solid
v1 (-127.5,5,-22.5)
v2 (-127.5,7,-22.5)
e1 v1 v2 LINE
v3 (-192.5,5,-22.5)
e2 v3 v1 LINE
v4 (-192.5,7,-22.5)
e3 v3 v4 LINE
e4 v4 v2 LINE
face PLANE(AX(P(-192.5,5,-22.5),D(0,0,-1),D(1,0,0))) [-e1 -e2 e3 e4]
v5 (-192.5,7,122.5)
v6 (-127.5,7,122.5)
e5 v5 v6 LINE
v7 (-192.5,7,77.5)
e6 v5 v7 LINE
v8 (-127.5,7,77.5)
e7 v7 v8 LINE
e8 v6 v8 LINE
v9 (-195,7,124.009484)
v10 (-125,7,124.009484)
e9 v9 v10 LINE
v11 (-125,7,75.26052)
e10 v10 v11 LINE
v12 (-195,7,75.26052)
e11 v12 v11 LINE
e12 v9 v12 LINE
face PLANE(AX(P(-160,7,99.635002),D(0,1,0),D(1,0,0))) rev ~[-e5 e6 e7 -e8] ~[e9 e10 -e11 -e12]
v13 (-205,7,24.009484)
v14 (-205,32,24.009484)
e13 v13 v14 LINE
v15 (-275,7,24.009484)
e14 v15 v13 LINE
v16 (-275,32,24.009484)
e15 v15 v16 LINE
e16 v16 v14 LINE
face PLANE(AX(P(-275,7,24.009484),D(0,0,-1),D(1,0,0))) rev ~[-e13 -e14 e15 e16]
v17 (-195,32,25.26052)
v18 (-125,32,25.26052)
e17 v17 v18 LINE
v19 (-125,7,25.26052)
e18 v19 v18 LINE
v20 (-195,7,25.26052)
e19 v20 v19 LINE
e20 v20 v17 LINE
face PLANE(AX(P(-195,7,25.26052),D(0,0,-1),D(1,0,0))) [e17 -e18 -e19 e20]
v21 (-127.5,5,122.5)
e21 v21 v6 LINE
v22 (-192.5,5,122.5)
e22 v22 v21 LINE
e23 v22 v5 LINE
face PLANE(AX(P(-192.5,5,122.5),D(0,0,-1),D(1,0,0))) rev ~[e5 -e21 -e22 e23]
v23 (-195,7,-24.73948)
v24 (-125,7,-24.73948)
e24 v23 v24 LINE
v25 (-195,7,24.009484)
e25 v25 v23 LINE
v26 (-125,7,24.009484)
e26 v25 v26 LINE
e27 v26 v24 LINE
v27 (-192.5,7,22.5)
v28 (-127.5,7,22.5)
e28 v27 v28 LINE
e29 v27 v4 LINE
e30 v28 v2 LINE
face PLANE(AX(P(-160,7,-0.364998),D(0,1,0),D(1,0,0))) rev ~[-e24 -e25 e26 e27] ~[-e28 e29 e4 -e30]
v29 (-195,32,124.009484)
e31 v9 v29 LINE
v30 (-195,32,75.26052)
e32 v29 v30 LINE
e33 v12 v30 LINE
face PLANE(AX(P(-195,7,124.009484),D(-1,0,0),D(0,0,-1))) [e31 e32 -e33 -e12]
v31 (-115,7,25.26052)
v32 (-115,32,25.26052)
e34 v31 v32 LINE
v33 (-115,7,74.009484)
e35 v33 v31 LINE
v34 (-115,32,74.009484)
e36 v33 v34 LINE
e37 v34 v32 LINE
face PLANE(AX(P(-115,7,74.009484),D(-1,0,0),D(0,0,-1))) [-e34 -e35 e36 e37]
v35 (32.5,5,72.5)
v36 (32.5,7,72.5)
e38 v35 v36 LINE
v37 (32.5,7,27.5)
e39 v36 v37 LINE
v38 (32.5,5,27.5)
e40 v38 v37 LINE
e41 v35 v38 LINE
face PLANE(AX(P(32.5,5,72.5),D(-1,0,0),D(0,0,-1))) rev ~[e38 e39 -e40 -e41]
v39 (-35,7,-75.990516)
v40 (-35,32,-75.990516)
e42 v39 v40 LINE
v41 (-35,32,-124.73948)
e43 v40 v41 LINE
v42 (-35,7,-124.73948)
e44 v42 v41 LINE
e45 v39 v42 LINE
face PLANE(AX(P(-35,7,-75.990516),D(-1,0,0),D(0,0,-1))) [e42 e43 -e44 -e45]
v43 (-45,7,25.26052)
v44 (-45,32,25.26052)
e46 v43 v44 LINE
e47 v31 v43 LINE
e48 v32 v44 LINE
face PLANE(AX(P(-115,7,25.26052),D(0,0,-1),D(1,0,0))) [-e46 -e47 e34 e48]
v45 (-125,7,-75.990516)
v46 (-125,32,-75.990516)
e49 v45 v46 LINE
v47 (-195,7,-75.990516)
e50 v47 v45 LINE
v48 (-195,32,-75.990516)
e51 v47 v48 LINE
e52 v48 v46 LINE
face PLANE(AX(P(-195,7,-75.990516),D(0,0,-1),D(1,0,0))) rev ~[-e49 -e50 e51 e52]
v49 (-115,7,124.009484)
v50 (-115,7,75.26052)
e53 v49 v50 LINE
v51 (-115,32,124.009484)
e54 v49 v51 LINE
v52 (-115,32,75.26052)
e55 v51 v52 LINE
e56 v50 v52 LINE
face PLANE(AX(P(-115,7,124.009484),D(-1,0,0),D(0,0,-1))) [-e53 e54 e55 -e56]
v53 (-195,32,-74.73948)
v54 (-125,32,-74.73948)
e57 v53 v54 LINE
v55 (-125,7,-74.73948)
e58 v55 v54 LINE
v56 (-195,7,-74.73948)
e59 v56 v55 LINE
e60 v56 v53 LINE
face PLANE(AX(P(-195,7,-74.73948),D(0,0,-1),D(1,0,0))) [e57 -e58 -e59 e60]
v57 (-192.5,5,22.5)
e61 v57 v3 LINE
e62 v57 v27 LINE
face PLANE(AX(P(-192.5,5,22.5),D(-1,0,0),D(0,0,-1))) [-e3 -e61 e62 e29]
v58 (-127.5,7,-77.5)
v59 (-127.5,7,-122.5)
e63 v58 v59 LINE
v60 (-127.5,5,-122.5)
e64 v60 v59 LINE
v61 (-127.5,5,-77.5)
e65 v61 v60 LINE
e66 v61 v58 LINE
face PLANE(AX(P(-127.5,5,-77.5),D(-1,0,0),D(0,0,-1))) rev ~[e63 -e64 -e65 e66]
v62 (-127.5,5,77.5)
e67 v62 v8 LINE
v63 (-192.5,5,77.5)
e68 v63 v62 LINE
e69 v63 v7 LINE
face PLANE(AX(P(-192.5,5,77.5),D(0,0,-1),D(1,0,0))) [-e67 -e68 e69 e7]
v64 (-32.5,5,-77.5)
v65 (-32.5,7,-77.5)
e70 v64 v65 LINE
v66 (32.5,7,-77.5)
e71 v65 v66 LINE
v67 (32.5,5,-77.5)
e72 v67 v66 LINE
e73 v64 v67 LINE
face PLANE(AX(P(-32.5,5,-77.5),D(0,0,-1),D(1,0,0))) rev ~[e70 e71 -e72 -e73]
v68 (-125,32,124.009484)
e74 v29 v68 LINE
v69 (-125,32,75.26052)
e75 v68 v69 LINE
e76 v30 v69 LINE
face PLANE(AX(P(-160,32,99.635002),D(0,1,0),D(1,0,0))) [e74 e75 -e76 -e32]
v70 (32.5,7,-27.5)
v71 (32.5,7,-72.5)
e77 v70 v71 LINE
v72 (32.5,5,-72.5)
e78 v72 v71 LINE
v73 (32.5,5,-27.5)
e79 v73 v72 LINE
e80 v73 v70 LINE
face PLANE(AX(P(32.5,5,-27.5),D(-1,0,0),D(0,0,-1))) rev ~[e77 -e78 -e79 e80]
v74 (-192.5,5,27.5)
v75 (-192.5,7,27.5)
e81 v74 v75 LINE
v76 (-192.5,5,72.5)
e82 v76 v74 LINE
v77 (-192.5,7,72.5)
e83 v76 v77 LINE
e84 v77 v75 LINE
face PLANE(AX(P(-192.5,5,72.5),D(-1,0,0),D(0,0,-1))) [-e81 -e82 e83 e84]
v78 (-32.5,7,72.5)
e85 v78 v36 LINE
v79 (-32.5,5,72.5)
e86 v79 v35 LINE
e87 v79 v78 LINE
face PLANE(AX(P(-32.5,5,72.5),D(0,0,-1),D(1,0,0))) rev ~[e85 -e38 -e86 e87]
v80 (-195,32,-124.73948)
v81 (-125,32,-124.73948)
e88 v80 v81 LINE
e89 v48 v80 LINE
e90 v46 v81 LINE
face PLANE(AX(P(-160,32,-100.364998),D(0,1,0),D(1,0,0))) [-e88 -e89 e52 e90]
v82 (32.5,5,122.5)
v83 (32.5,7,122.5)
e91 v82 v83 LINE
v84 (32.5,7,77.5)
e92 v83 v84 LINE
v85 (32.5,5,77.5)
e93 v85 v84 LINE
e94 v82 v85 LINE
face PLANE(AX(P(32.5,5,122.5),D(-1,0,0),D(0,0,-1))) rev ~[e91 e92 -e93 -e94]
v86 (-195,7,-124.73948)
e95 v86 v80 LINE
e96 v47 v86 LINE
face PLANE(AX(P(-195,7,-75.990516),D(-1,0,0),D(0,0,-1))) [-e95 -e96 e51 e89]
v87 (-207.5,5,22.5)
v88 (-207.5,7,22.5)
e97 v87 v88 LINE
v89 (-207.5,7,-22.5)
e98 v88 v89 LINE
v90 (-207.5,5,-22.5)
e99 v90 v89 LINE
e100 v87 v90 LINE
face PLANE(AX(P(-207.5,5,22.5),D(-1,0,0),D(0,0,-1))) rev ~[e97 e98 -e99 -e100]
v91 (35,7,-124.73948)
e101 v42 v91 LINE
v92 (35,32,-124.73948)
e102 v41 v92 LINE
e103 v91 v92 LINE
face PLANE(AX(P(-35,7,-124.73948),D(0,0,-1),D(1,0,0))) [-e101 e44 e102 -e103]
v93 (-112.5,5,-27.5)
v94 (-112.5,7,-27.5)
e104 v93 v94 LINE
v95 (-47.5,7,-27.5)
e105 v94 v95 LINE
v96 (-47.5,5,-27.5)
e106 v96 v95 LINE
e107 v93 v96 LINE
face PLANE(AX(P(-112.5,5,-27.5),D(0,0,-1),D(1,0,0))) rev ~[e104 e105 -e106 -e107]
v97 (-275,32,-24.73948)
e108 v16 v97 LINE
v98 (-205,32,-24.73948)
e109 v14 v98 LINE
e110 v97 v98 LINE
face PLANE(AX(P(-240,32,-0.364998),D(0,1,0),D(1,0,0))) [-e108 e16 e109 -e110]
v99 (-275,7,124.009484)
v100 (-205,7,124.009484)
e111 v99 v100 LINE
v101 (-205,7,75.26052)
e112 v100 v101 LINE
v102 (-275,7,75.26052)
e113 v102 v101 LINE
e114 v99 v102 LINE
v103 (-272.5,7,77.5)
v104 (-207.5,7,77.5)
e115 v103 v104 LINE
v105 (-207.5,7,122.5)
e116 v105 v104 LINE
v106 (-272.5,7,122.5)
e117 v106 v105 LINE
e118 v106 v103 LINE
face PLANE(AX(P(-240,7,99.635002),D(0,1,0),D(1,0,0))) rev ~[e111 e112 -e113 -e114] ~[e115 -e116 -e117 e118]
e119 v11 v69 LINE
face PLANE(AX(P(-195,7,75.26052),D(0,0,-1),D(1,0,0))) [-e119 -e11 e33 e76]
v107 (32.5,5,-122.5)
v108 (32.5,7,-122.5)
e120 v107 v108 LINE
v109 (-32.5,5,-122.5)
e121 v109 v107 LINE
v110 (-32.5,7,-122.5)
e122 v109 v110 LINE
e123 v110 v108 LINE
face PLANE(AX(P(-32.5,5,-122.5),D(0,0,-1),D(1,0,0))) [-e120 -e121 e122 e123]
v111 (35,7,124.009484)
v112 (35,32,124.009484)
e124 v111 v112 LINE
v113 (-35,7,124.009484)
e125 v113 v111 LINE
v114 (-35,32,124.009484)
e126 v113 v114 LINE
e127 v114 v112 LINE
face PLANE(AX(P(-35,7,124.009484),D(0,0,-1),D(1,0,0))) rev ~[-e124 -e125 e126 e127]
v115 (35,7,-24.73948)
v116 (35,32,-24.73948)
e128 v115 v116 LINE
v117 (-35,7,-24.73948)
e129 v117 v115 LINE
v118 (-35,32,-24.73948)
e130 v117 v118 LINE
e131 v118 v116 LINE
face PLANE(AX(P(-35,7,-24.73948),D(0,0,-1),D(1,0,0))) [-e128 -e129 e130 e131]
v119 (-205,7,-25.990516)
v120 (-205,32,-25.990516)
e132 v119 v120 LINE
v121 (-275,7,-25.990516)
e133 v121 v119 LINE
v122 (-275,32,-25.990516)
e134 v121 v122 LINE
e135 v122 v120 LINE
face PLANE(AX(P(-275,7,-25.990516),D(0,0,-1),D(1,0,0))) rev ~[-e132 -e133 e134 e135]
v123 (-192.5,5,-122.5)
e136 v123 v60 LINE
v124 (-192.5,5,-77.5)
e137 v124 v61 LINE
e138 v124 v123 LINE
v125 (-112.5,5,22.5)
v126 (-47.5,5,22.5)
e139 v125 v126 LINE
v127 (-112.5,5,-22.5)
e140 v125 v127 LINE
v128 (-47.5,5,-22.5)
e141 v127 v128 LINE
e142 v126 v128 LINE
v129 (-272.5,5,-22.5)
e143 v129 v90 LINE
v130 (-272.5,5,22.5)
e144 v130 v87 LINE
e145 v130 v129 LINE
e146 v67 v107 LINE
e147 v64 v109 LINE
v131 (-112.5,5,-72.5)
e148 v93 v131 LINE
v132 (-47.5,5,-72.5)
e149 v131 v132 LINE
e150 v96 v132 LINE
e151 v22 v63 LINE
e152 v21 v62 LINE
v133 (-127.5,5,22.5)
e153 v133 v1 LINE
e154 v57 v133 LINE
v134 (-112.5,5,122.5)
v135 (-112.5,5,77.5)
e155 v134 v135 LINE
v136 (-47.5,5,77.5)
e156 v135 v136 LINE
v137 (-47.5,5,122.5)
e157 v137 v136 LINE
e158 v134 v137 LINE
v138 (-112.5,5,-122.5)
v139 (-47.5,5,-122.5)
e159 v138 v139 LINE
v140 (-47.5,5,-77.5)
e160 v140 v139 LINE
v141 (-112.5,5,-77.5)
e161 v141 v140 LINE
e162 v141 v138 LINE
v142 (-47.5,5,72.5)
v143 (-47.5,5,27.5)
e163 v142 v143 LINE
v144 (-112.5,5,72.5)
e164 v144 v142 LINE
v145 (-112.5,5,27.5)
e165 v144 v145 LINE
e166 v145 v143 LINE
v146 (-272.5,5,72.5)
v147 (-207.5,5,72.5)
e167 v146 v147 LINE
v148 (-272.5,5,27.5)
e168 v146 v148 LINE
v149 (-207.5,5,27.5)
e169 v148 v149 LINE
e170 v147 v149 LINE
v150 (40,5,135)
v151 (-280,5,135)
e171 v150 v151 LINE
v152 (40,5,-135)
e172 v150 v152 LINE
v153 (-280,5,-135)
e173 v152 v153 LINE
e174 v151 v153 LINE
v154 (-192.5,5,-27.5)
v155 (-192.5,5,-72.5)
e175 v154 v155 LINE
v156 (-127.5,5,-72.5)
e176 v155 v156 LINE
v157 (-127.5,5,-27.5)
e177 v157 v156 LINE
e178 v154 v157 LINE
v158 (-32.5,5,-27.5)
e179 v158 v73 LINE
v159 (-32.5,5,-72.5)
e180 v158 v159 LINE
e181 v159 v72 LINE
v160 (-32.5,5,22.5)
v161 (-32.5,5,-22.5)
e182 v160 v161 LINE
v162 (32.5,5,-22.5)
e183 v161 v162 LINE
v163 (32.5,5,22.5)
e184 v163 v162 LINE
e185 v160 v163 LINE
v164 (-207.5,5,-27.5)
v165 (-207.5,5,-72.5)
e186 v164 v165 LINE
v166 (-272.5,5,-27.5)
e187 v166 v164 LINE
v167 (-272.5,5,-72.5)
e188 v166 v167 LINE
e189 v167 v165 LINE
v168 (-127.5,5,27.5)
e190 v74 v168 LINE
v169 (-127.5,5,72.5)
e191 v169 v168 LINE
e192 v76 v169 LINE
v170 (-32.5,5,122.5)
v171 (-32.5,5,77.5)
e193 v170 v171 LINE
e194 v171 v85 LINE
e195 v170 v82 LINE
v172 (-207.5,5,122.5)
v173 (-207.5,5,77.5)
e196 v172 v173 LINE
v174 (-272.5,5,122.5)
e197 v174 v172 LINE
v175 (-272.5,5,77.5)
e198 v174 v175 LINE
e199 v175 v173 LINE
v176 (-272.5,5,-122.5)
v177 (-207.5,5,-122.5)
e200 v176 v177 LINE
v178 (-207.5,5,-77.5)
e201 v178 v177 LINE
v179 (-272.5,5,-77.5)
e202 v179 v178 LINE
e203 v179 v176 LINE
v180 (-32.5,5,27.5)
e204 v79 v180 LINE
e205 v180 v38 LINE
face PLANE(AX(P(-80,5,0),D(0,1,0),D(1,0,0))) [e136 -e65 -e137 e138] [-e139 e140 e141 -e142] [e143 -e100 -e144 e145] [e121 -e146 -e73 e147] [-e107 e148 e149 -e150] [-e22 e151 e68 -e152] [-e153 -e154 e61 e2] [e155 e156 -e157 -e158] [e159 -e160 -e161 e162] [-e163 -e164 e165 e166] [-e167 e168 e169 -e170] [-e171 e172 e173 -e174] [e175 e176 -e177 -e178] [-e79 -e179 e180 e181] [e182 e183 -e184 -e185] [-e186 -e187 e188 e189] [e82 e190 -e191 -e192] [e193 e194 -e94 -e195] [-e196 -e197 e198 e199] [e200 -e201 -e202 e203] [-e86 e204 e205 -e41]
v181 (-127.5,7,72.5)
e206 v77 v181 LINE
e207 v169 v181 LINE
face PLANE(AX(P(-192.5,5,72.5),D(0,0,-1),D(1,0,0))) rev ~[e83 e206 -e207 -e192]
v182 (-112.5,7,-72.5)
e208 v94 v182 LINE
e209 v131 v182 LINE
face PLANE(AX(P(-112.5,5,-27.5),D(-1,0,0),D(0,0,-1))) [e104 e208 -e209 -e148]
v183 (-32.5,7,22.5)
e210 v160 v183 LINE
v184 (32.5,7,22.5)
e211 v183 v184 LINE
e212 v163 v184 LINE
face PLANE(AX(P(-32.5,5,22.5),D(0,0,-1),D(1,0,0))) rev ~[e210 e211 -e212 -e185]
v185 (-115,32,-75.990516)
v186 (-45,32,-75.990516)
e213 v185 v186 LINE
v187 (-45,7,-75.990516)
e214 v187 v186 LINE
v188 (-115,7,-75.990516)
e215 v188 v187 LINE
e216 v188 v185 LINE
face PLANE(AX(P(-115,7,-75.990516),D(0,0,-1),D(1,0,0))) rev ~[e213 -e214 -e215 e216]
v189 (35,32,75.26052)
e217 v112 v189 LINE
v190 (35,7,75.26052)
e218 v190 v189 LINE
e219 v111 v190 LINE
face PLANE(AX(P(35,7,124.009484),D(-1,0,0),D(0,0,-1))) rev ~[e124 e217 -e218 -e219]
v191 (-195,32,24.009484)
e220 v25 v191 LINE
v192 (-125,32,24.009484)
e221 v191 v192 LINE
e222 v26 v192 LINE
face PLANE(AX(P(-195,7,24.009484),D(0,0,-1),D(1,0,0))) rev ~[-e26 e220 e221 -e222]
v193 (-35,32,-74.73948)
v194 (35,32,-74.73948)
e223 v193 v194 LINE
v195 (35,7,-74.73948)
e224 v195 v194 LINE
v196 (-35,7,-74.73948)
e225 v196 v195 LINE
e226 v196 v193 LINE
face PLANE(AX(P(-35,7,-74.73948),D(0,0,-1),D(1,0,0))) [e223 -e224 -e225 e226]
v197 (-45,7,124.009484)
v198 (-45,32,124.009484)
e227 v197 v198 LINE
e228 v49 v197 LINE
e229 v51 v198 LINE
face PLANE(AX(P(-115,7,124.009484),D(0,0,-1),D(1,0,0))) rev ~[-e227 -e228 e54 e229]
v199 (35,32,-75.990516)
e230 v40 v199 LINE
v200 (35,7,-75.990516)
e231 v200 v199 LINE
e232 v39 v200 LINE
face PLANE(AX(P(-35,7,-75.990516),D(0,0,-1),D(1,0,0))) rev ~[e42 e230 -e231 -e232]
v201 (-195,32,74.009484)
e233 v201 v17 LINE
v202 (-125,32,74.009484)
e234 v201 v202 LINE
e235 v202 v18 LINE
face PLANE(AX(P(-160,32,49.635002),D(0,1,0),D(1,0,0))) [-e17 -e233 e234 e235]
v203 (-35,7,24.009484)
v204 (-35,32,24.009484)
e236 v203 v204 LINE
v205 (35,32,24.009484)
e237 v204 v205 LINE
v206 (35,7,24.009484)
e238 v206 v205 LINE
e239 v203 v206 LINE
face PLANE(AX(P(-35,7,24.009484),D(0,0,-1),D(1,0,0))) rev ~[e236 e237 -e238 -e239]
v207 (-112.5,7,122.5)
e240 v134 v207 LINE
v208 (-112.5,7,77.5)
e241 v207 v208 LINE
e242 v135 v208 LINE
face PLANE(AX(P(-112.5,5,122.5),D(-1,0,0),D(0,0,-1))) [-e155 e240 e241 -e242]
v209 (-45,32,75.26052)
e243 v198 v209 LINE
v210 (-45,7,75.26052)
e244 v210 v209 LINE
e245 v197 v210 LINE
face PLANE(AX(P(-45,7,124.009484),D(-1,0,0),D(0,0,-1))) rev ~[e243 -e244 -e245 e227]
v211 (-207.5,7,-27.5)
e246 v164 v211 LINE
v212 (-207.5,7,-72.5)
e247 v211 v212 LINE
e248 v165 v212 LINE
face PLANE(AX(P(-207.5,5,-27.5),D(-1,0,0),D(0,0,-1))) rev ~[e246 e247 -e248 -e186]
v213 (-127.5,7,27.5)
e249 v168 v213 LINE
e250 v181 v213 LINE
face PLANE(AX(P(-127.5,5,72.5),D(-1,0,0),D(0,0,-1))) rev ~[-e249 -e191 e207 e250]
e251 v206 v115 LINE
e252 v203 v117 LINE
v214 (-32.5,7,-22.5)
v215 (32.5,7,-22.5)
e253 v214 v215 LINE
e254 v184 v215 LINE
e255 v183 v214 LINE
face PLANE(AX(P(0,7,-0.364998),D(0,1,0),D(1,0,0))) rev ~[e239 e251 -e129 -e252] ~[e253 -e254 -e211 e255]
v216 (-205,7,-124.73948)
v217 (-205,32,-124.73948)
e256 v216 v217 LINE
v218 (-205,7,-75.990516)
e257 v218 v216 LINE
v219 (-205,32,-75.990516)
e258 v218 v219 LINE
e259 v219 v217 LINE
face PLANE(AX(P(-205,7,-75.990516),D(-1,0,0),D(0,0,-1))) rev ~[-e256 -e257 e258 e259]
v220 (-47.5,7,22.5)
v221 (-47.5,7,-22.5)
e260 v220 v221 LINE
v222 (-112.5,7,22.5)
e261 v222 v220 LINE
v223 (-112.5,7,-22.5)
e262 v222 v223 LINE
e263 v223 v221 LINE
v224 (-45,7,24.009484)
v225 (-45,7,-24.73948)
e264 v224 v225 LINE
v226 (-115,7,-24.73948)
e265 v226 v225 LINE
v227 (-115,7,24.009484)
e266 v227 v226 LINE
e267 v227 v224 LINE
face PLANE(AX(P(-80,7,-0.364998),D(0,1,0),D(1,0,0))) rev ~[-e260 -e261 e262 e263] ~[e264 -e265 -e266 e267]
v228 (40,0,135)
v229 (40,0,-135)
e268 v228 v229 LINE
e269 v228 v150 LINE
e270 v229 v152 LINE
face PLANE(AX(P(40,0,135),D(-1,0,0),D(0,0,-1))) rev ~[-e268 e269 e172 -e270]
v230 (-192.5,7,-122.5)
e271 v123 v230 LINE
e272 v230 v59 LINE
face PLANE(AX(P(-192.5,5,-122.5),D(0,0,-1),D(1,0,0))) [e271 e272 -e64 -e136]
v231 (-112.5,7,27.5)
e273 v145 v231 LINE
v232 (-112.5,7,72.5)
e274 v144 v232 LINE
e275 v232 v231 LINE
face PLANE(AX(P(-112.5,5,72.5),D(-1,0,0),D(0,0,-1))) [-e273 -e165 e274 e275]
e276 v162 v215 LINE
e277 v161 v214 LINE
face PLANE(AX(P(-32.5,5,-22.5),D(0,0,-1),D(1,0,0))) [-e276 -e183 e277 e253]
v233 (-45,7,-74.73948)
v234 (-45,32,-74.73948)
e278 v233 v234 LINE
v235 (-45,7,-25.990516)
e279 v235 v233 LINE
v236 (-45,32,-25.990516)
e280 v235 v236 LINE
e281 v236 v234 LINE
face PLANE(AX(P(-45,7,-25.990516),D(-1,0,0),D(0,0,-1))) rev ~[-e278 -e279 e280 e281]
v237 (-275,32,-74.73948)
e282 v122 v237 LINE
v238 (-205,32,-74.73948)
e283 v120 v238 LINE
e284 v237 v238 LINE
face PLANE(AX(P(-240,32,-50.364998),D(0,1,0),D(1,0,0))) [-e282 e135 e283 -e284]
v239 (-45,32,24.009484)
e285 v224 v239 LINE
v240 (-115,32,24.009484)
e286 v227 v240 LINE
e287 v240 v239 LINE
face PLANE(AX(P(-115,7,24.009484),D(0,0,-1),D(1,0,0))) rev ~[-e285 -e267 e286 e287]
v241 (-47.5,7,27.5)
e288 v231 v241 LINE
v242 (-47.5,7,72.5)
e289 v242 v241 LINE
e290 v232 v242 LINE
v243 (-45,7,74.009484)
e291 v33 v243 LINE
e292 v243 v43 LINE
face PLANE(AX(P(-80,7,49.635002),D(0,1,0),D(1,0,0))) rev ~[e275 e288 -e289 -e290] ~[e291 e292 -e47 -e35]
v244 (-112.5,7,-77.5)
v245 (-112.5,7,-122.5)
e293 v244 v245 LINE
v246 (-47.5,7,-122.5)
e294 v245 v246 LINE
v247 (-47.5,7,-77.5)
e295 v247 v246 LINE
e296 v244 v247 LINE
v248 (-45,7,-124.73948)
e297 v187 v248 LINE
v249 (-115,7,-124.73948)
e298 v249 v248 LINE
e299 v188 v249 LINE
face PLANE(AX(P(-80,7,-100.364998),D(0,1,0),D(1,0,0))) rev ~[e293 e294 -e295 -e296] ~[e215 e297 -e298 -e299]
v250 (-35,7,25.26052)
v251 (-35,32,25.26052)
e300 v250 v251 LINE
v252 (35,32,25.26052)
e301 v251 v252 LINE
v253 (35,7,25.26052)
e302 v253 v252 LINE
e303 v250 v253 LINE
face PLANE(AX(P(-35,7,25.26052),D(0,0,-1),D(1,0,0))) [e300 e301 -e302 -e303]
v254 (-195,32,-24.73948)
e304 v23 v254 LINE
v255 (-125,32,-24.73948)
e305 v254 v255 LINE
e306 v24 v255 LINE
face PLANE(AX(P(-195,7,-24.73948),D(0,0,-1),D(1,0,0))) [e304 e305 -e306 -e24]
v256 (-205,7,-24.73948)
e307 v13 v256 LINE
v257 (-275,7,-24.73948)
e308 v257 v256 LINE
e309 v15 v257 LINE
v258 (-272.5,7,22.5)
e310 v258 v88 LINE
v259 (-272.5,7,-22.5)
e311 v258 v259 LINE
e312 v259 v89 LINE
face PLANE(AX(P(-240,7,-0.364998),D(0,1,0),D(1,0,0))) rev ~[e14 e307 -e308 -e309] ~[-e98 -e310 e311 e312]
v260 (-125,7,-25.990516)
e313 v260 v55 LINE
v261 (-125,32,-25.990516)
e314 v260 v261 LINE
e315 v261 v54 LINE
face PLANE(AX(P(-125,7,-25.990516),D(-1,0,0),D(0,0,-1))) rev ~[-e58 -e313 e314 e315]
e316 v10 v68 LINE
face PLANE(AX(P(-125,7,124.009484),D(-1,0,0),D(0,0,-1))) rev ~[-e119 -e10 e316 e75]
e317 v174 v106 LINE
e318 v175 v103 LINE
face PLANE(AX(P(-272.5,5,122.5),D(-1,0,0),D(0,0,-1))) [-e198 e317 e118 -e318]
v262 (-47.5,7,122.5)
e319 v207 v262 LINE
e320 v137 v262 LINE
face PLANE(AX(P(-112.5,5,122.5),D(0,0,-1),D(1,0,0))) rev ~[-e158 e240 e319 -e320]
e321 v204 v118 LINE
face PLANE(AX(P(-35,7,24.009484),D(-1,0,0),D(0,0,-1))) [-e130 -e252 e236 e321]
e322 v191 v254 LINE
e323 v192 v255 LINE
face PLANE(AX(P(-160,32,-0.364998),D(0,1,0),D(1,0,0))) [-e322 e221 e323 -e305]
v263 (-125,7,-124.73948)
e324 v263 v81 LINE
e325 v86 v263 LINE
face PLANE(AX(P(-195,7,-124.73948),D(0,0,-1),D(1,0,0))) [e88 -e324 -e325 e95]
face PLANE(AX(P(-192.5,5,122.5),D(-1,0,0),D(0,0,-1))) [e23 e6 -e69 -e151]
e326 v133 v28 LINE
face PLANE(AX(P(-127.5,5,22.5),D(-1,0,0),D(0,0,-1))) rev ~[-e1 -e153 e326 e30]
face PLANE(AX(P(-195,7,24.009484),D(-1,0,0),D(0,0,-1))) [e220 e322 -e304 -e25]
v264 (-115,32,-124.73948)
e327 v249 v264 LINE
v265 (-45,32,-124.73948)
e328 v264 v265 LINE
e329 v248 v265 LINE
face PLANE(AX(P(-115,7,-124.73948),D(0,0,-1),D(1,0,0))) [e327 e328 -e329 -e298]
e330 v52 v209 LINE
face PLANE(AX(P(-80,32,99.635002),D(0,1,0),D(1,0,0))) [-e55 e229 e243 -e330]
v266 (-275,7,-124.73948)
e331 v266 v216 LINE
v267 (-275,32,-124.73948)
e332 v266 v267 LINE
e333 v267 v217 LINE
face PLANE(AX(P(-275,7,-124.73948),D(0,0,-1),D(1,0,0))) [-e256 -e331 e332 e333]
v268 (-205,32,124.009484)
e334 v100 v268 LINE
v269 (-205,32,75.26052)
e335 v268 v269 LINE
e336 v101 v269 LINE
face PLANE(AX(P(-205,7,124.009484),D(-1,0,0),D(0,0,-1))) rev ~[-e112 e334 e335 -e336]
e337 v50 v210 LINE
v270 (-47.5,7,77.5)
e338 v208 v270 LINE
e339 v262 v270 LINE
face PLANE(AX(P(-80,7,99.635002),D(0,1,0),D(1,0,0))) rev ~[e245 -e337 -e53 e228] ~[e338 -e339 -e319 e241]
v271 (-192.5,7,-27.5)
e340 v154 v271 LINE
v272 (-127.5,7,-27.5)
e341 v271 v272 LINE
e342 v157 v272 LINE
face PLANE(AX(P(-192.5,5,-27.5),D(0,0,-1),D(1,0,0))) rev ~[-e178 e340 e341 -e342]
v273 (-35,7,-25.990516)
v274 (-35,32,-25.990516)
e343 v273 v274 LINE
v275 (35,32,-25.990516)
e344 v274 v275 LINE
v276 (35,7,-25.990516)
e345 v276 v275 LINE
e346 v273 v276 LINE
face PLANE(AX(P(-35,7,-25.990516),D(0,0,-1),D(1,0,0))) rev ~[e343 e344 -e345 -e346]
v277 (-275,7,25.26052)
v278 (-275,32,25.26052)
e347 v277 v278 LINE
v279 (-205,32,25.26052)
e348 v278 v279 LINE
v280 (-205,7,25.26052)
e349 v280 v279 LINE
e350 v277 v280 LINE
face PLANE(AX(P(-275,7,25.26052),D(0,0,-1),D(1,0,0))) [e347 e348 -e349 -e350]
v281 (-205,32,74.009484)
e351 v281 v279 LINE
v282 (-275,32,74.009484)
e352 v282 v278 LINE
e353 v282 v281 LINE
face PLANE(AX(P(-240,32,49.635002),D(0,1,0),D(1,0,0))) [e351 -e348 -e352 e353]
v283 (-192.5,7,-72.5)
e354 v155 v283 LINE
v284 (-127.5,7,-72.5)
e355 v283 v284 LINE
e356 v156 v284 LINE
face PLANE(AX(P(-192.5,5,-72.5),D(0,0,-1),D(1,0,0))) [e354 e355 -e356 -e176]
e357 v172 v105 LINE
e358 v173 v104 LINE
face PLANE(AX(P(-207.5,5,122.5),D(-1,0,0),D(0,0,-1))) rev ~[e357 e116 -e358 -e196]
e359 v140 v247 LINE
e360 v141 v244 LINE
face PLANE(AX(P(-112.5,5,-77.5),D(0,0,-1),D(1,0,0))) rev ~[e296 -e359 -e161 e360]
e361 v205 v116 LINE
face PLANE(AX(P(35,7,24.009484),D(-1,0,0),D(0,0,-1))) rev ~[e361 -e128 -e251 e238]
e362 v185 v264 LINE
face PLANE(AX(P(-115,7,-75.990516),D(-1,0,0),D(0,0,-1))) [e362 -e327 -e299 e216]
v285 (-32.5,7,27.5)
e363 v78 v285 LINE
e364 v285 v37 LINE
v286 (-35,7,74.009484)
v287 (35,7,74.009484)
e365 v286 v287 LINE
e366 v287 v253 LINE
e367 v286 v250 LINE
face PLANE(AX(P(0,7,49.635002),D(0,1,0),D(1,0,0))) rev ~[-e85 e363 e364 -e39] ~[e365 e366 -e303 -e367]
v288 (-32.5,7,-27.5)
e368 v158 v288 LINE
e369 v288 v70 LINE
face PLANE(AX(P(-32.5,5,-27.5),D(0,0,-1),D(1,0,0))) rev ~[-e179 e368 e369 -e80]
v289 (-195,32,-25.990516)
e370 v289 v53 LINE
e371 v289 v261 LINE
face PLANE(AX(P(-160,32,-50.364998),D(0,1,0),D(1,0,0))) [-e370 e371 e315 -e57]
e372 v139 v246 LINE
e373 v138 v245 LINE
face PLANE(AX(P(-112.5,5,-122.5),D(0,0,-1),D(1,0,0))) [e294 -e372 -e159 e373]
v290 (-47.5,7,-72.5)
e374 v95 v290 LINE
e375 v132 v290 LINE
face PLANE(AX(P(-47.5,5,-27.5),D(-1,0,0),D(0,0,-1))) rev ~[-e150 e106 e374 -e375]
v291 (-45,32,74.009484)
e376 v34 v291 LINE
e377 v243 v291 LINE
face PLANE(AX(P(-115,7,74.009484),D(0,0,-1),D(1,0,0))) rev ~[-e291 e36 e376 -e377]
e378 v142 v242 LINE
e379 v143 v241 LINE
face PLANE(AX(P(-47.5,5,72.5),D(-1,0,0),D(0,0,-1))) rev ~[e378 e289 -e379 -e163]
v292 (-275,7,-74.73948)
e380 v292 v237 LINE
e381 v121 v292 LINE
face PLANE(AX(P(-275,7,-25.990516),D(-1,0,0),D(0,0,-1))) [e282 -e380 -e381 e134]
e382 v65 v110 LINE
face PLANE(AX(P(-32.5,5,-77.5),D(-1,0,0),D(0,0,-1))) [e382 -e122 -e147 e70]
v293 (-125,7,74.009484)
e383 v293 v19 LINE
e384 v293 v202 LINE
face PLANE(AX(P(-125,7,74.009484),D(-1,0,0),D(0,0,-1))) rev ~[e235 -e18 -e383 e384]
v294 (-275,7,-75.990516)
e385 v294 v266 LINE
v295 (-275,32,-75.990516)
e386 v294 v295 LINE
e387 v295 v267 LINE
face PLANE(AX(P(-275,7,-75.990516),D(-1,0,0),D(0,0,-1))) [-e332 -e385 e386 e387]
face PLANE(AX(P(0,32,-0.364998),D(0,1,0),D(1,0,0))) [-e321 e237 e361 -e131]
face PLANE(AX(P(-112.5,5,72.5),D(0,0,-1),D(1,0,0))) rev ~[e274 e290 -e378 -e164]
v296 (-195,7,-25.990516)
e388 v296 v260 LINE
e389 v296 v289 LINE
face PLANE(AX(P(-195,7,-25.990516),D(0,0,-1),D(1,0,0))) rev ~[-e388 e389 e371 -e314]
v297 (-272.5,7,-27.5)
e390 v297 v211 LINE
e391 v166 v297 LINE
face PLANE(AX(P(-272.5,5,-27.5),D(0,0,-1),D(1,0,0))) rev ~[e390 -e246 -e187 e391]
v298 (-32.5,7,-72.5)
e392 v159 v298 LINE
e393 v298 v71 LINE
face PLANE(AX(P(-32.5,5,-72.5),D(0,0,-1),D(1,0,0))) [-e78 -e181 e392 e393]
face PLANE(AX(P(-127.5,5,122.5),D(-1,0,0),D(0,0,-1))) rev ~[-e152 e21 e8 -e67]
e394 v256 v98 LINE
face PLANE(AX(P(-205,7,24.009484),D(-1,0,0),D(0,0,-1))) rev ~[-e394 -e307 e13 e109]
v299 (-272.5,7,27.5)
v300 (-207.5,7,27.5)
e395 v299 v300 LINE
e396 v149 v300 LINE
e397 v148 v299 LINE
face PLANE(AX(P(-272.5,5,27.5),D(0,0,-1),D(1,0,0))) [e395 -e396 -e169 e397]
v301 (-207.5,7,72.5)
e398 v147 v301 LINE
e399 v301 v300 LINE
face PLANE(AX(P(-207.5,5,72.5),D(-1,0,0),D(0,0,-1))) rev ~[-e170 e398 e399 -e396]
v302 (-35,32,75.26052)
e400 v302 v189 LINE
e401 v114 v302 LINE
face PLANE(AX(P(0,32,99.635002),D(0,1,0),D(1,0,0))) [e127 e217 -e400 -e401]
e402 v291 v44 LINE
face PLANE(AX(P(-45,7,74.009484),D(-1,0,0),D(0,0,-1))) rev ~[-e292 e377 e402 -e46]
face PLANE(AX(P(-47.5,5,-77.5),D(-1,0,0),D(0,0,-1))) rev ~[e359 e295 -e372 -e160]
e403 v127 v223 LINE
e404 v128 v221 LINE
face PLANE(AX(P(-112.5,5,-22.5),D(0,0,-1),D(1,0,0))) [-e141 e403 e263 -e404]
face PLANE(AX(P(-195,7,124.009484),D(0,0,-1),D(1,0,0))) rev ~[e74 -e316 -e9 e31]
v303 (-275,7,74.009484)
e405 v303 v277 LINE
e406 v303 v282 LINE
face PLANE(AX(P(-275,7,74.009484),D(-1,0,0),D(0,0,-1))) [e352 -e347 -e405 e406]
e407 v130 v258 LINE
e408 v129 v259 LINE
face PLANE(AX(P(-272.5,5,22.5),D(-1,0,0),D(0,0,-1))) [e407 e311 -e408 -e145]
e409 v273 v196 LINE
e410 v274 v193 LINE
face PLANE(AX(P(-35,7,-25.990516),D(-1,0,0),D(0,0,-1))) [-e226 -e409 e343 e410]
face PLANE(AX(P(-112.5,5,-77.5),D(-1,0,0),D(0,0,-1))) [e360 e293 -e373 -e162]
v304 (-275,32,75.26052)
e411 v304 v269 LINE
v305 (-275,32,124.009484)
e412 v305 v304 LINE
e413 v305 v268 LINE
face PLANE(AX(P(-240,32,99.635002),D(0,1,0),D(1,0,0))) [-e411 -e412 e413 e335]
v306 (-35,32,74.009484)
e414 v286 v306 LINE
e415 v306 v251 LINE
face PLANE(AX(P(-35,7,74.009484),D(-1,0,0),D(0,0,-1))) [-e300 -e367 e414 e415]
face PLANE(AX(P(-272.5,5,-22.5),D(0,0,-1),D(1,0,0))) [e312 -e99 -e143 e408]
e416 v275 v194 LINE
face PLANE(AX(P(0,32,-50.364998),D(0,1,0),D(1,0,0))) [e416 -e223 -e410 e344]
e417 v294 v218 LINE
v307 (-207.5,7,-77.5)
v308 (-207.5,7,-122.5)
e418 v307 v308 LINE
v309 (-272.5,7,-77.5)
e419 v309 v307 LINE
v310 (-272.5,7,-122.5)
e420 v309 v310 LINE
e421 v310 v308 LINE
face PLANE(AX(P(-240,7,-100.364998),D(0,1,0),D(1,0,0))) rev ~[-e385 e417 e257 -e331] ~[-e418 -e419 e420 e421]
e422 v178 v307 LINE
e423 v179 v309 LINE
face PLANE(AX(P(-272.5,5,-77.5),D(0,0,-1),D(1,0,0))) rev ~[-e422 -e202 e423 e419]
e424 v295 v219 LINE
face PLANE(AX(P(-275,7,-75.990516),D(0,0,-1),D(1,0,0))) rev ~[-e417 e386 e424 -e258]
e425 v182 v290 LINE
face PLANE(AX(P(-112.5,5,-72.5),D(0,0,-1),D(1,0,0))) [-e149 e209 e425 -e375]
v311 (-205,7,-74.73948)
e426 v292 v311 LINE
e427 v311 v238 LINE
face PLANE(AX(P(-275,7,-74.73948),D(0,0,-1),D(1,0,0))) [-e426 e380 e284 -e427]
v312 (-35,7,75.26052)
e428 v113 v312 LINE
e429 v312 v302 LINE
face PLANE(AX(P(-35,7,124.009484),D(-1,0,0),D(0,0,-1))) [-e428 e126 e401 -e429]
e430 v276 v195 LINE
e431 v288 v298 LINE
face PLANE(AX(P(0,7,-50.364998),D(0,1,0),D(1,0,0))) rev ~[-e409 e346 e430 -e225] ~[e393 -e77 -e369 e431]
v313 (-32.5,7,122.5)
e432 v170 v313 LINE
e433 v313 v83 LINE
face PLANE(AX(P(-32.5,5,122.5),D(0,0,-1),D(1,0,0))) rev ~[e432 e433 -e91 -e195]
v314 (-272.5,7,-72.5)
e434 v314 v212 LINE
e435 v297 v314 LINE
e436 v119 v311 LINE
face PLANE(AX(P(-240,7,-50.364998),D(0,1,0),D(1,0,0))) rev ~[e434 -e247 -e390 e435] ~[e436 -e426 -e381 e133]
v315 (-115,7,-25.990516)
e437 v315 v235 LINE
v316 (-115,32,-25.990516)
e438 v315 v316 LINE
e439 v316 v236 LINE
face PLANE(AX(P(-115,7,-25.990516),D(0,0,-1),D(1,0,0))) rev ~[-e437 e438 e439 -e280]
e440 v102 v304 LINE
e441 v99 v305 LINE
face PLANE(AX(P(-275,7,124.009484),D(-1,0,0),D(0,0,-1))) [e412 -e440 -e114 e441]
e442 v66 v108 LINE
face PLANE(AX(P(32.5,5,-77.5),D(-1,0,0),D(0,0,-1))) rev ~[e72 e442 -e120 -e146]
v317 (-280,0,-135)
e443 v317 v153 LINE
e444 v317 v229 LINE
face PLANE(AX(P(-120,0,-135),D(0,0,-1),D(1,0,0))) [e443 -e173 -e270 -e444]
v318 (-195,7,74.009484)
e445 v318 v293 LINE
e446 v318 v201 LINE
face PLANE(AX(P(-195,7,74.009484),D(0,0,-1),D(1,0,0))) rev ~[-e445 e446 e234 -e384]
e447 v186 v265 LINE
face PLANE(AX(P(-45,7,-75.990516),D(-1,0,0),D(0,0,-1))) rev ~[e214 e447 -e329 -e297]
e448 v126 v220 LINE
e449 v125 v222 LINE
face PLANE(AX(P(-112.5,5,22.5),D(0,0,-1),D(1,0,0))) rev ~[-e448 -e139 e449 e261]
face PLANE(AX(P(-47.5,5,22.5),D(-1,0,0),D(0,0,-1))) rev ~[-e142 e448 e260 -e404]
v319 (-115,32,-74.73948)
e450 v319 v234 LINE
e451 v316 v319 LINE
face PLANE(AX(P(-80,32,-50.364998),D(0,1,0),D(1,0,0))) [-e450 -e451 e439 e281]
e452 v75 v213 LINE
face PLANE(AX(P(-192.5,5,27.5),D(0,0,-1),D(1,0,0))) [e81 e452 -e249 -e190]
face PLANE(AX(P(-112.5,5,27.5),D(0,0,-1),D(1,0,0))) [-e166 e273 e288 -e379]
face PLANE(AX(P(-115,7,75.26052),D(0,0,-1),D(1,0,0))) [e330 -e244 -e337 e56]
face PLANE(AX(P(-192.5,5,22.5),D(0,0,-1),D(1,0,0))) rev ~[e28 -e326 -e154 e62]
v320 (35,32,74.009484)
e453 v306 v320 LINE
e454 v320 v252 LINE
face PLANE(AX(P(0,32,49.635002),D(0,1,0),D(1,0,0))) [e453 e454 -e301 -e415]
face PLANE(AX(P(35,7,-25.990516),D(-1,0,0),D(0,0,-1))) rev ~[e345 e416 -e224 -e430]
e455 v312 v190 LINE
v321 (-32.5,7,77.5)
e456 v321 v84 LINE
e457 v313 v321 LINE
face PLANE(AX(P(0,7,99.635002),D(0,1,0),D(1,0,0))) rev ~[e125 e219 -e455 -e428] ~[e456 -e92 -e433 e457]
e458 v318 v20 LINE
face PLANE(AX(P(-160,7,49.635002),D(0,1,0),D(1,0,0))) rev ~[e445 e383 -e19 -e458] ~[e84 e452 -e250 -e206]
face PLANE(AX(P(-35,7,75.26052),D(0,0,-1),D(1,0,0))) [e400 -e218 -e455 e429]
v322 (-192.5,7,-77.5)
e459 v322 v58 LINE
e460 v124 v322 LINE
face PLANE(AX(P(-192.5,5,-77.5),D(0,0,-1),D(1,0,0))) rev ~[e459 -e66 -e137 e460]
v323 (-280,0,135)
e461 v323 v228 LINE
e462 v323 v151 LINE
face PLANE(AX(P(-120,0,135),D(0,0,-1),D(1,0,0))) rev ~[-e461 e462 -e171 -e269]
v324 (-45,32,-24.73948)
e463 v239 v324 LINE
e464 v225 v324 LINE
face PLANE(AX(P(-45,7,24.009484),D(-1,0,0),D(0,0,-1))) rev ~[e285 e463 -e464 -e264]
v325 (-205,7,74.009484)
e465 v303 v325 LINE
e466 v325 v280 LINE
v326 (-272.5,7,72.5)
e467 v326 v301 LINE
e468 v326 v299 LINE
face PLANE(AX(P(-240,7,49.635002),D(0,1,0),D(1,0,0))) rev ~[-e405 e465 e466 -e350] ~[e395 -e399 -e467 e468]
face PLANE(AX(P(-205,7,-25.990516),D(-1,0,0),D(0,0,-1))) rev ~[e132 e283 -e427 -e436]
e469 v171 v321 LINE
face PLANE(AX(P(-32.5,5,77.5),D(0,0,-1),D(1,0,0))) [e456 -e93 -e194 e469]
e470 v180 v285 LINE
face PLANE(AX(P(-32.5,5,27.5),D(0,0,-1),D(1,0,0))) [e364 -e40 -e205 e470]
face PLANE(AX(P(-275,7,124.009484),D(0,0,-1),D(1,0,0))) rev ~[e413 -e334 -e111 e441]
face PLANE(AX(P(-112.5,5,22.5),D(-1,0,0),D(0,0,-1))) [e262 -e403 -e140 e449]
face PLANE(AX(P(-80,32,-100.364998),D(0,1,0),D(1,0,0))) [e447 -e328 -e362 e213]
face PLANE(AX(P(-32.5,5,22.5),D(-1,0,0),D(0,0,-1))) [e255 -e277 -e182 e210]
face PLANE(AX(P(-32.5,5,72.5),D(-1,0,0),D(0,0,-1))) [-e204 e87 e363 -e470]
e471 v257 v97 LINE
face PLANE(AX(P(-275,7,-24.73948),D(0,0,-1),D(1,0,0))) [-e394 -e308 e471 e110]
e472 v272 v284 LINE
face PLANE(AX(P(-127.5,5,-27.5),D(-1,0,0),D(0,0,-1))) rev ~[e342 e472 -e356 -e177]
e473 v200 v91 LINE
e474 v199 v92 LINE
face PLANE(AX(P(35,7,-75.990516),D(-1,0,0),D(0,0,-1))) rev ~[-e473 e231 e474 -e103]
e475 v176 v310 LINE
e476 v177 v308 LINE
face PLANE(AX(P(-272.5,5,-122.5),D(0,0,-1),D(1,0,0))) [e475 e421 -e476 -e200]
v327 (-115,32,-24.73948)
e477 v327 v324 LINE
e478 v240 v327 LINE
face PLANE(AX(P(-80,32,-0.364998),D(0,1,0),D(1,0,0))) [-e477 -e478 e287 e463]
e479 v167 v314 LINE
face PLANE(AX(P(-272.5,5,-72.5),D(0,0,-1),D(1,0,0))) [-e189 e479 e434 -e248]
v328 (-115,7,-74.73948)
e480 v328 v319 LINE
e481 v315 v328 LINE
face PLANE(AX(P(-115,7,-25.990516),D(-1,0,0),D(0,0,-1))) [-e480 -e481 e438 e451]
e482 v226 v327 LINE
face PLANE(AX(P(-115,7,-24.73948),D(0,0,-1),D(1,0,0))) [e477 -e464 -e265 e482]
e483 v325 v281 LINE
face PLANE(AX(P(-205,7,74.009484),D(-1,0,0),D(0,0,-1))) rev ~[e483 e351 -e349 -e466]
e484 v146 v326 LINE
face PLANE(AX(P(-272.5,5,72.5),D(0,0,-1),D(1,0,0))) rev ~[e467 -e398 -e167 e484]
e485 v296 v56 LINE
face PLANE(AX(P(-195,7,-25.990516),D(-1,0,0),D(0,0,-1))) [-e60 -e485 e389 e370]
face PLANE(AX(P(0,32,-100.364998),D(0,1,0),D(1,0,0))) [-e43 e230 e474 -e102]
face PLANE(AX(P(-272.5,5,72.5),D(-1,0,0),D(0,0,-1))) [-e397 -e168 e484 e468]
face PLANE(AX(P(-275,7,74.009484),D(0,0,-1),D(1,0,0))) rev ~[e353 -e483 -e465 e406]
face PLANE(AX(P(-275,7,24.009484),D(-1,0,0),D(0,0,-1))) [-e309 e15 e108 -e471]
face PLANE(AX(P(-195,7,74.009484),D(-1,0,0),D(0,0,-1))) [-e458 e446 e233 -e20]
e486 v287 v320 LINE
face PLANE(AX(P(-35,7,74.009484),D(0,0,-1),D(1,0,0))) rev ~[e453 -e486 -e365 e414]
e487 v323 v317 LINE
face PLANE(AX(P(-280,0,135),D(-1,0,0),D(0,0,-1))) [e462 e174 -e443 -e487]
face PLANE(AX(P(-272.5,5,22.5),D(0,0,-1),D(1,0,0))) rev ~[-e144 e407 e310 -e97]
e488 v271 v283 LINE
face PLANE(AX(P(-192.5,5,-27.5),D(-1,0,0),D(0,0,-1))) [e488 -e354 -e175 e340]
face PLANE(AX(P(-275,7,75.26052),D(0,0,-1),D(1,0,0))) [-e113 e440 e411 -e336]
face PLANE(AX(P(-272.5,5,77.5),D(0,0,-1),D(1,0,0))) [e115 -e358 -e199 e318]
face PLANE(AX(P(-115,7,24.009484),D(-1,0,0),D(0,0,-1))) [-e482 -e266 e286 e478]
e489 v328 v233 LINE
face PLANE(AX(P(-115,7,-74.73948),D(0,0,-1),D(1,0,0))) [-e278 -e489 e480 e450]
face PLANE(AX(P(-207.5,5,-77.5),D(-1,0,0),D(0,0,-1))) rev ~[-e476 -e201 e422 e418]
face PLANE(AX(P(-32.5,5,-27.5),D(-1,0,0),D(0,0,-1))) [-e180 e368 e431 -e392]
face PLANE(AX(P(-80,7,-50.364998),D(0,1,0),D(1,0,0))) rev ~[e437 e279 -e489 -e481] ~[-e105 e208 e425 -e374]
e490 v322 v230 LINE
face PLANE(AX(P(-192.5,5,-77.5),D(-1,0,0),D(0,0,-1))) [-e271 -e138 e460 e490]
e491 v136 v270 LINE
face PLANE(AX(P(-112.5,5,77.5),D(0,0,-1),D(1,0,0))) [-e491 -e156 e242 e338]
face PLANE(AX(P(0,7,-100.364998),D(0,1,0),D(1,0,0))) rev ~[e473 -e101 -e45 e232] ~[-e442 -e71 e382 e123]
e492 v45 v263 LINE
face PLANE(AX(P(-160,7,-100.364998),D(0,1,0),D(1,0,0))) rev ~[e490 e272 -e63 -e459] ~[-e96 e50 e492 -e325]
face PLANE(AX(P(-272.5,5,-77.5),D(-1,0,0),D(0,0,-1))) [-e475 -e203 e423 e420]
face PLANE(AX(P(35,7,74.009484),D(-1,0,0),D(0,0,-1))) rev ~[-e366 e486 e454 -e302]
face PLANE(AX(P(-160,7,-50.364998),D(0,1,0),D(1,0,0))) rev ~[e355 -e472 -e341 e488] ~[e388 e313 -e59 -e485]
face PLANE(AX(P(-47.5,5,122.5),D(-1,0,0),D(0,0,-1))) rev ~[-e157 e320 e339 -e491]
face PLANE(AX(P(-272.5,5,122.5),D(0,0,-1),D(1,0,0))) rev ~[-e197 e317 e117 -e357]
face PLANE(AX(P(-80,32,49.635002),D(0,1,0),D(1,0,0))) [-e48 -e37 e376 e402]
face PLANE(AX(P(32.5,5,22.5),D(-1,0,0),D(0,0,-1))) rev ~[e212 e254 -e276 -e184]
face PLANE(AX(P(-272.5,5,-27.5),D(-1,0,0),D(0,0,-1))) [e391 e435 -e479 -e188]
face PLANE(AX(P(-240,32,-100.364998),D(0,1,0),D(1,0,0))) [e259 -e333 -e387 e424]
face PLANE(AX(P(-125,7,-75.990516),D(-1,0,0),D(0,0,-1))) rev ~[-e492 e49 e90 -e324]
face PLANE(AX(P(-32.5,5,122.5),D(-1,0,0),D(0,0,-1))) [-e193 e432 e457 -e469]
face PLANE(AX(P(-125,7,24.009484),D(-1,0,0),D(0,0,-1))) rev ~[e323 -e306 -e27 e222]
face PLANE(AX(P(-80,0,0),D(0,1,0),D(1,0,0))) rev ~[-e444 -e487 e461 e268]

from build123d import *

# Parameters (mm, degrees)
SKETCH1_W                  = 80
SKETCH1_H                  = 270
BOSS_EXTRUDE1_DEPTH        = 5
SKETCH2_W                  = 65
SKETCH2_H                  = 45
BOSS_EXTRUDE3_DEPTH        = 2
LPATTERN1_COUNT            = 5
LPATTERN1_PITCH            = 50
SKETCH3_W                  = 70
SKETCH3_H                  = 48.748964222
BOSS_EXTRUDE8_DEPTH        = 25
LPATTERN5_COUNT            = 5
LPATTERN5_PITCH            = 50
LPATTERN6_COUNT            = 4
LPATTERN6_PITCH            = 80
LPATTERN6_COPY_1_SKETCH_W  = 65
LPATTERN6_COPY_1_SKETCH_H  = 45
LPATTERN6_COPY_1_DEPTH     = 2
LPATTERN6_COPY_2_SKETCH_W  = 65
LPATTERN6_COPY_2_SKETCH_H  = 45
LPATTERN6_COPY_2_DEPTH     = 2
LPATTERN6_COPY_3_SKETCH_W  = 65
LPATTERN6_COPY_3_SKETCH_H  = 45
LPATTERN6_COPY_3_DEPTH     = 2
LPATTERN6_COPY_4_SKETCH_W  = 65
LPATTERN6_COPY_4_SKETCH_H  = 45
LPATTERN6_COPY_4_DEPTH     = 2
LPATTERN6_COPY_5_SKETCH_W  = 65
LPATTERN6_COPY_5_SKETCH_H  = 45
LPATTERN6_COPY_5_DEPTH     = 2
LPATTERN6_COPY_6_SKETCH_W  = 65
LPATTERN6_COPY_6_SKETCH_H  = 45
LPATTERN6_COPY_6_DEPTH     = 2
LPATTERN6_COPY_7_SKETCH_W  = 65
LPATTERN6_COPY_7_SKETCH_H  = 45
LPATTERN6_COPY_7_DEPTH     = 2
LPATTERN6_COPY_8_SKETCH_W  = 65
LPATTERN6_COPY_8_SKETCH_H  = 45
LPATTERN6_COPY_8_DEPTH     = 2
LPATTERN6_COPY_9_SKETCH_W  = 65
LPATTERN6_COPY_9_SKETCH_H  = 45
LPATTERN6_COPY_9_DEPTH     = 2
LPATTERN6_COPY_10_SKETCH_W = 65
LPATTERN6_COPY_10_SKETCH_H = 45
LPATTERN6_COPY_10_DEPTH    = 2
LPATTERN6_COPY_11_SKETCH_W = 65
LPATTERN6_COPY_11_SKETCH_H = 45
LPATTERN6_COPY_11_DEPTH    = 2
LPATTERN6_COPY_12_SKETCH_W = 65
LPATTERN6_COPY_12_SKETCH_H = 45
LPATTERN6_COPY_12_DEPTH    = 2
LPATTERN6_COPY_13_SKETCH_W = 70
LPATTERN6_COPY_13_SKETCH_H = 48.748964222
LPATTERN6_COPY_13_DEPTH    = 25
LPATTERN6_COPY_14_SKETCH_W = 70
LPATTERN6_COPY_14_SKETCH_H = 48.748964222
LPATTERN6_COPY_14_DEPTH    = 25
LPATTERN6_COPY_15_SKETCH_W = 70
LPATTERN6_COPY_15_SKETCH_H = 48.748964222
LPATTERN6_COPY_15_DEPTH    = 25
LPATTERN6_COPY_16_SKETCH_W = 70
LPATTERN6_COPY_16_SKETCH_H = 48.748964222
LPATTERN6_COPY_16_DEPTH    = 25
LPATTERN6_COPY_17_SKETCH_W = 70
LPATTERN6_COPY_17_SKETCH_H = 48.748964222
LPATTERN6_COPY_17_DEPTH    = 25
LPATTERN6_COPY_18_SKETCH_W = 70
LPATTERN6_COPY_18_SKETCH_H = 48.748964222
LPATTERN6_COPY_18_DEPTH    = 25
LPATTERN6_COPY_19_SKETCH_W = 70
LPATTERN6_COPY_19_SKETCH_H = 48.748964222
LPATTERN6_COPY_19_DEPTH    = 25
LPATTERN6_COPY_20_SKETCH_W = 70
LPATTERN6_COPY_20_SKETCH_H = 48.748964222
LPATTERN6_COPY_20_DEPTH    = 25
LPATTERN6_COPY_21_SKETCH_W = 70
LPATTERN6_COPY_21_SKETCH_H = 48.748964222
LPATTERN6_COPY_21_DEPTH    = 25
LPATTERN6_COPY_22_SKETCH_W = 70
LPATTERN6_COPY_22_SKETCH_H = 48.748964222
LPATTERN6_COPY_22_DEPTH    = 25
LPATTERN6_COPY_23_SKETCH_W = 70
LPATTERN6_COPY_23_SKETCH_H = 48.748964222
LPATTERN6_COPY_23_DEPTH    = 25
LPATTERN6_COPY_24_SKETCH_W = 70
LPATTERN6_COPY_24_SKETCH_H = 48.748964222
LPATTERN6_COPY_24_DEPTH    = 25


with BuildPart() as part:
    # Sketch1 → Boss-Extrude1 (new body)
    with BuildSketch(Plane(origin=(0, 0, 0), x_dir=(1, 0, 0), z_dir=(0, 1, 0))):
        Rectangle(SKETCH1_W, SKETCH1_H)
    boss_extrude1 = extrude(amount=BOSS_EXTRUDE1_DEPTH)

    # Sketch2 → Boss-Extrude3 (add)
    with BuildSketch(Plane(origin=(0, 5, 0), x_dir=(1, 0, 0), z_dir=(0, 1, 0))):
        with Locations((0, -100)):
            Rectangle(SKETCH2_W, SKETCH2_H)
    boss_extrude3 = extrude(amount=BOSS_EXTRUDE3_DEPTH)

    # LPattern1: Boss-Extrude3 ×5
    with Locations(*[(0, 0, -i * LPATTERN1_PITCH) for i in range(1, LPATTERN1_COUNT)]):
        add(boss_extrude3)

    # Sketch3 → Boss-Extrude8 (add)
    with BuildSketch(Plane(origin=(0, 7, 0), x_dir=(1, 0, 0), z_dir=(0, 1, 0))):
        with Locations((0, -99.635002086)):
            Rectangle(SKETCH3_W, SKETCH3_H)
    boss_extrude8 = extrude(amount=BOSS_EXTRUDE8_DEPTH)

    # LPattern5: Boss-Extrude8 ×5
    with Locations(*[(0, 0, -i * LPATTERN5_PITCH) for i in range(1, LPATTERN5_COUNT)]):
        add(boss_extrude8)

    # LPattern6: Boss-Extrude1, Boss-Extrude3, Boss-Extrude8 ×4
    with Locations(*[(-i * LPATTERN6_PITCH, 0, 0) for i in range(1, LPATTERN6_COUNT)]):
        add(boss_extrude1)
        add(boss_extrude3)
        add(boss_extrude8)

    # LPattern6 copy 1 sketch → LPattern6 copy 1 (add)
    with BuildSketch(Plane(origin=(-80, 5, -50), x_dir=(1, 0, 0), z_dir=(0, 1, 0))):
        with Locations((0, -100)):
            Rectangle(LPATTERN6_COPY_1_SKETCH_W, LPATTERN6_COPY_1_SKETCH_H)
    extrude(amount=LPATTERN6_COPY_1_DEPTH)

    # LPattern6 copy 2 sketch → LPattern6 copy 2 (add)
    with BuildSketch(Plane(origin=(-160, 5, -50), x_dir=(1, 0, 0), z_dir=(0, 1, 0))):
        with Locations((0, -100)):
            Rectangle(LPATTERN6_COPY_2_SKETCH_W, LPATTERN6_COPY_2_SKETCH_H)
    extrude(amount=LPATTERN6_COPY_2_DEPTH)

    # LPattern6 copy 3 sketch → LPattern6 copy 3 (add)
    with BuildSketch(Plane(origin=(-240, 5, -50), x_dir=(1, 0, 0), z_dir=(0, 1, 0))):
        with Locations((0, -100)):
            Rectangle(LPATTERN6_COPY_3_SKETCH_W, LPATTERN6_COPY_3_SKETCH_H)
    extrude(amount=LPATTERN6_COPY_3_DEPTH)

    # LPattern6 copy 4 sketch → LPattern6 copy 4 (add)
    with BuildSketch(Plane(origin=(-80, 5, -100), x_dir=(1, 0, 0), z_dir=(0, 1, 0))):
        with Locations((0, -100)):
            Rectangle(LPATTERN6_COPY_4_SKETCH_W, LPATTERN6_COPY_4_SKETCH_H)
    extrude(amount=LPATTERN6_COPY_4_DEPTH)

    # LPattern6 copy 5 sketch → LPattern6 copy 5 (add)
    with BuildSketch(Plane(origin=(-160, 5, -100), x_dir=(1, 0, 0), z_dir=(0, 1, 0))):
        with Locations((0, -100)):
            Rectangle(LPATTERN6_COPY_5_SKETCH_W, LPATTERN6_COPY_5_SKETCH_H)
    extrude(amount=LPATTERN6_COPY_5_DEPTH)

    # LPattern6 copy 6 sketch → LPattern6 copy 6 (add)
    with BuildSketch(Plane(origin=(-240, 5, -100), x_dir=(1, 0, 0), z_dir=(0, 1, 0))):
        with Locations((0, -100)):
            Rectangle(LPATTERN6_COPY_6_SKETCH_W, LPATTERN6_COPY_6_SKETCH_H)
    extrude(amount=LPATTERN6_COPY_6_DEPTH)

    # LPattern6 copy 7 sketch → LPattern6 copy 7 (add)
    with BuildSketch(Plane(origin=(-80, 5, -150), x_dir=(1, 0, 0), z_dir=(0, 1, 0))):
        with Locations((0, -100)):
            Rectangle(LPATTERN6_COPY_7_SKETCH_W, LPATTERN6_COPY_7_SKETCH_H)
    extrude(amount=LPATTERN6_COPY_7_DEPTH)

    # LPattern6 copy 8 sketch → LPattern6 copy 8 (add)
    with BuildSketch(Plane(origin=(-160, 5, -150), x_dir=(1, 0, 0), z_dir=(0, 1, 0))):
        with Locations((0, -100)):
            Rectangle(LPATTERN6_COPY_8_SKETCH_W, LPATTERN6_COPY_8_SKETCH_H)
    extrude(amount=LPATTERN6_COPY_8_DEPTH)

    # LPattern6 copy 9 sketch → LPattern6 copy 9 (add)
    with BuildSketch(Plane(origin=(-240, 5, -150), x_dir=(1, 0, 0), z_dir=(0, 1, 0))):
        with Locations((0, -100)):
            Rectangle(LPATTERN6_COPY_9_SKETCH_W, LPATTERN6_COPY_9_SKETCH_H)
    extrude(amount=LPATTERN6_COPY_9_DEPTH)

    # LPattern6 copy 10 sketch → LPattern6 copy 10 (add)
    with BuildSketch(Plane(origin=(-80, 5, -200), x_dir=(1, 0, 0), z_dir=(0, 1, 0))):
        with Locations((0, -100)):
            Rectangle(LPATTERN6_COPY_10_SKETCH_W, LPATTERN6_COPY_10_SKETCH_H)
    extrude(amount=LPATTERN6_COPY_10_DEPTH)

    # LPattern6 copy 11 sketch → LPattern6 copy 11 (add)
    with BuildSketch(Plane(origin=(-160, 5, -200), x_dir=(1, 0, 0), z_dir=(0, 1, 0))):
        with Locations((0, -100)):
            Rectangle(LPATTERN6_COPY_11_SKETCH_W, LPATTERN6_COPY_11_SKETCH_H)
    extrude(amount=LPATTERN6_COPY_11_DEPTH)

    # LPattern6 copy 12 sketch → LPattern6 copy 12 (add)
    with BuildSketch(Plane(origin=(-240, 5, -200), x_dir=(1, 0, 0), z_dir=(0, 1, 0))):
        with Locations((0, -100)):
            Rectangle(LPATTERN6_COPY_12_SKETCH_W, LPATTERN6_COPY_12_SKETCH_H)
    extrude(amount=LPATTERN6_COPY_12_DEPTH)

    # LPattern6 copy 13 sketch → LPattern6 copy 13 (add)
    with BuildSketch(Plane(origin=(-80, 7, -50), x_dir=(1, 0, 0), z_dir=(0, 1, 0))):
        with Locations((0, -99.635002086)):
            Rectangle(LPATTERN6_COPY_13_SKETCH_W, LPATTERN6_COPY_13_SKETCH_H)
    extrude(amount=LPATTERN6_COPY_13_DEPTH)

    # LPattern6 copy 14 sketch → LPattern6 copy 14 (add)
    with BuildSketch(Plane(origin=(-160, 7, -50), x_dir=(1, 0, 0), z_dir=(0, 1, 0))):
        with Locations((0, -99.635002086)):
            Rectangle(LPATTERN6_COPY_14_SKETCH_W, LPATTERN6_COPY_14_SKETCH_H)
    extrude(amount=LPATTERN6_COPY_14_DEPTH)

    # LPattern6 copy 15 sketch → LPattern6 copy 15 (add)
    with BuildSketch(Plane(origin=(-240, 7, -50), x_dir=(1, 0, 0), z_dir=(0, 1, 0))):
        with Locations((0, -99.635002086)):
            Rectangle(LPATTERN6_COPY_15_SKETCH_W, LPATTERN6_COPY_15_SKETCH_H)
    extrude(amount=LPATTERN6_COPY_15_DEPTH)

    # LPattern6 copy 16 sketch → LPattern6 copy 16 (add)
    with BuildSketch(Plane(origin=(-80, 7, -100), x_dir=(1, 0, 0), z_dir=(0, 1, 0))):
        with Locations((0, -99.635002086)):
            Rectangle(LPATTERN6_COPY_16_SKETCH_W, LPATTERN6_COPY_16_SKETCH_H)
    extrude(amount=LPATTERN6_COPY_16_DEPTH)

    # LPattern6 copy 17 sketch → LPattern6 copy 17 (add)
    with BuildSketch(Plane(origin=(-160, 7, -100), x_dir=(1, 0, 0), z_dir=(0, 1, 0))):
        with Locations((0, -99.635002086)):
            Rectangle(LPATTERN6_COPY_17_SKETCH_W, LPATTERN6_COPY_17_SKETCH_H)
    extrude(amount=LPATTERN6_COPY_17_DEPTH)

    # LPattern6 copy 18 sketch → LPattern6 copy 18 (add)
    with BuildSketch(Plane(origin=(-240, 7, -100), x_dir=(1, 0, 0), z_dir=(0, 1, 0))):
        with Locations((0, -99.635002086)):
            Rectangle(LPATTERN6_COPY_18_SKETCH_W, LPATTERN6_COPY_18_SKETCH_H)
    extrude(amount=LPATTERN6_COPY_18_DEPTH)

    # LPattern6 copy 19 sketch → LPattern6 copy 19 (add)
    with BuildSketch(Plane(origin=(-80, 7, -150), x_dir=(1, 0, 0), z_dir=(0, 1, 0))):
        with Locations((0, -99.635002086)):
            Rectangle(LPATTERN6_COPY_19_SKETCH_W, LPATTERN6_COPY_19_SKETCH_H)
    extrude(amount=LPATTERN6_COPY_19_DEPTH)

    # LPattern6 copy 20 sketch → LPattern6 copy 20 (add)
    with BuildSketch(Plane(origin=(-160, 7, -150), x_dir=(1, 0, 0), z_dir=(0, 1, 0))):
        with Locations((0, -99.635002086)):
            Rectangle(LPATTERN6_COPY_20_SKETCH_W, LPATTERN6_COPY_20_SKETCH_H)
    extrude(amount=LPATTERN6_COPY_20_DEPTH)

    # LPattern6 copy 21 sketch → LPattern6 copy 21 (add)
    with BuildSketch(Plane(origin=(-240, 7, -150), x_dir=(1, 0, 0), z_dir=(0, 1, 0))):
        with Locations((0, -99.635002086)):
            Rectangle(LPATTERN6_COPY_21_SKETCH_W, LPATTERN6_COPY_21_SKETCH_H)
    extrude(amount=LPATTERN6_COPY_21_DEPTH)

    # LPattern6 copy 22 sketch → LPattern6 copy 22 (add)
    with BuildSketch(Plane(origin=(-80, 7, -200), x_dir=(1, 0, 0), z_dir=(0, 1, 0))):
        with Locations((0, -99.635002086)):
            Rectangle(LPATTERN6_COPY_22_SKETCH_W, LPATTERN6_COPY_22_SKETCH_H)
    extrude(amount=LPATTERN6_COPY_22_DEPTH)

    # LPattern6 copy 23 sketch → LPattern6 copy 23 (add)
    with BuildSketch(Plane(origin=(-160, 7, -200), x_dir=(1, 0, 0), z_dir=(0, 1, 0))):
        with Locations((0, -99.635002086)):
            Rectangle(LPATTERN6_COPY_23_SKETCH_W, LPATTERN6_COPY_23_SKETCH_H)
    extrude(amount=LPATTERN6_COPY_23_DEPTH)

    # LPattern6 copy 24 sketch → LPattern6 copy 24 (add)
    with BuildSketch(Plane(origin=(-240, 7, -200), x_dir=(1, 0, 0), z_dir=(0, 1, 0))):
        with Locations((0, -99.635002086)):
            Rectangle(LPATTERN6_COPY_24_SKETCH_W, LPATTERN6_COPY_24_SKETCH_H)
    extrude(amount=LPATTERN6_COPY_24_DEPTH)


solid = part.part
